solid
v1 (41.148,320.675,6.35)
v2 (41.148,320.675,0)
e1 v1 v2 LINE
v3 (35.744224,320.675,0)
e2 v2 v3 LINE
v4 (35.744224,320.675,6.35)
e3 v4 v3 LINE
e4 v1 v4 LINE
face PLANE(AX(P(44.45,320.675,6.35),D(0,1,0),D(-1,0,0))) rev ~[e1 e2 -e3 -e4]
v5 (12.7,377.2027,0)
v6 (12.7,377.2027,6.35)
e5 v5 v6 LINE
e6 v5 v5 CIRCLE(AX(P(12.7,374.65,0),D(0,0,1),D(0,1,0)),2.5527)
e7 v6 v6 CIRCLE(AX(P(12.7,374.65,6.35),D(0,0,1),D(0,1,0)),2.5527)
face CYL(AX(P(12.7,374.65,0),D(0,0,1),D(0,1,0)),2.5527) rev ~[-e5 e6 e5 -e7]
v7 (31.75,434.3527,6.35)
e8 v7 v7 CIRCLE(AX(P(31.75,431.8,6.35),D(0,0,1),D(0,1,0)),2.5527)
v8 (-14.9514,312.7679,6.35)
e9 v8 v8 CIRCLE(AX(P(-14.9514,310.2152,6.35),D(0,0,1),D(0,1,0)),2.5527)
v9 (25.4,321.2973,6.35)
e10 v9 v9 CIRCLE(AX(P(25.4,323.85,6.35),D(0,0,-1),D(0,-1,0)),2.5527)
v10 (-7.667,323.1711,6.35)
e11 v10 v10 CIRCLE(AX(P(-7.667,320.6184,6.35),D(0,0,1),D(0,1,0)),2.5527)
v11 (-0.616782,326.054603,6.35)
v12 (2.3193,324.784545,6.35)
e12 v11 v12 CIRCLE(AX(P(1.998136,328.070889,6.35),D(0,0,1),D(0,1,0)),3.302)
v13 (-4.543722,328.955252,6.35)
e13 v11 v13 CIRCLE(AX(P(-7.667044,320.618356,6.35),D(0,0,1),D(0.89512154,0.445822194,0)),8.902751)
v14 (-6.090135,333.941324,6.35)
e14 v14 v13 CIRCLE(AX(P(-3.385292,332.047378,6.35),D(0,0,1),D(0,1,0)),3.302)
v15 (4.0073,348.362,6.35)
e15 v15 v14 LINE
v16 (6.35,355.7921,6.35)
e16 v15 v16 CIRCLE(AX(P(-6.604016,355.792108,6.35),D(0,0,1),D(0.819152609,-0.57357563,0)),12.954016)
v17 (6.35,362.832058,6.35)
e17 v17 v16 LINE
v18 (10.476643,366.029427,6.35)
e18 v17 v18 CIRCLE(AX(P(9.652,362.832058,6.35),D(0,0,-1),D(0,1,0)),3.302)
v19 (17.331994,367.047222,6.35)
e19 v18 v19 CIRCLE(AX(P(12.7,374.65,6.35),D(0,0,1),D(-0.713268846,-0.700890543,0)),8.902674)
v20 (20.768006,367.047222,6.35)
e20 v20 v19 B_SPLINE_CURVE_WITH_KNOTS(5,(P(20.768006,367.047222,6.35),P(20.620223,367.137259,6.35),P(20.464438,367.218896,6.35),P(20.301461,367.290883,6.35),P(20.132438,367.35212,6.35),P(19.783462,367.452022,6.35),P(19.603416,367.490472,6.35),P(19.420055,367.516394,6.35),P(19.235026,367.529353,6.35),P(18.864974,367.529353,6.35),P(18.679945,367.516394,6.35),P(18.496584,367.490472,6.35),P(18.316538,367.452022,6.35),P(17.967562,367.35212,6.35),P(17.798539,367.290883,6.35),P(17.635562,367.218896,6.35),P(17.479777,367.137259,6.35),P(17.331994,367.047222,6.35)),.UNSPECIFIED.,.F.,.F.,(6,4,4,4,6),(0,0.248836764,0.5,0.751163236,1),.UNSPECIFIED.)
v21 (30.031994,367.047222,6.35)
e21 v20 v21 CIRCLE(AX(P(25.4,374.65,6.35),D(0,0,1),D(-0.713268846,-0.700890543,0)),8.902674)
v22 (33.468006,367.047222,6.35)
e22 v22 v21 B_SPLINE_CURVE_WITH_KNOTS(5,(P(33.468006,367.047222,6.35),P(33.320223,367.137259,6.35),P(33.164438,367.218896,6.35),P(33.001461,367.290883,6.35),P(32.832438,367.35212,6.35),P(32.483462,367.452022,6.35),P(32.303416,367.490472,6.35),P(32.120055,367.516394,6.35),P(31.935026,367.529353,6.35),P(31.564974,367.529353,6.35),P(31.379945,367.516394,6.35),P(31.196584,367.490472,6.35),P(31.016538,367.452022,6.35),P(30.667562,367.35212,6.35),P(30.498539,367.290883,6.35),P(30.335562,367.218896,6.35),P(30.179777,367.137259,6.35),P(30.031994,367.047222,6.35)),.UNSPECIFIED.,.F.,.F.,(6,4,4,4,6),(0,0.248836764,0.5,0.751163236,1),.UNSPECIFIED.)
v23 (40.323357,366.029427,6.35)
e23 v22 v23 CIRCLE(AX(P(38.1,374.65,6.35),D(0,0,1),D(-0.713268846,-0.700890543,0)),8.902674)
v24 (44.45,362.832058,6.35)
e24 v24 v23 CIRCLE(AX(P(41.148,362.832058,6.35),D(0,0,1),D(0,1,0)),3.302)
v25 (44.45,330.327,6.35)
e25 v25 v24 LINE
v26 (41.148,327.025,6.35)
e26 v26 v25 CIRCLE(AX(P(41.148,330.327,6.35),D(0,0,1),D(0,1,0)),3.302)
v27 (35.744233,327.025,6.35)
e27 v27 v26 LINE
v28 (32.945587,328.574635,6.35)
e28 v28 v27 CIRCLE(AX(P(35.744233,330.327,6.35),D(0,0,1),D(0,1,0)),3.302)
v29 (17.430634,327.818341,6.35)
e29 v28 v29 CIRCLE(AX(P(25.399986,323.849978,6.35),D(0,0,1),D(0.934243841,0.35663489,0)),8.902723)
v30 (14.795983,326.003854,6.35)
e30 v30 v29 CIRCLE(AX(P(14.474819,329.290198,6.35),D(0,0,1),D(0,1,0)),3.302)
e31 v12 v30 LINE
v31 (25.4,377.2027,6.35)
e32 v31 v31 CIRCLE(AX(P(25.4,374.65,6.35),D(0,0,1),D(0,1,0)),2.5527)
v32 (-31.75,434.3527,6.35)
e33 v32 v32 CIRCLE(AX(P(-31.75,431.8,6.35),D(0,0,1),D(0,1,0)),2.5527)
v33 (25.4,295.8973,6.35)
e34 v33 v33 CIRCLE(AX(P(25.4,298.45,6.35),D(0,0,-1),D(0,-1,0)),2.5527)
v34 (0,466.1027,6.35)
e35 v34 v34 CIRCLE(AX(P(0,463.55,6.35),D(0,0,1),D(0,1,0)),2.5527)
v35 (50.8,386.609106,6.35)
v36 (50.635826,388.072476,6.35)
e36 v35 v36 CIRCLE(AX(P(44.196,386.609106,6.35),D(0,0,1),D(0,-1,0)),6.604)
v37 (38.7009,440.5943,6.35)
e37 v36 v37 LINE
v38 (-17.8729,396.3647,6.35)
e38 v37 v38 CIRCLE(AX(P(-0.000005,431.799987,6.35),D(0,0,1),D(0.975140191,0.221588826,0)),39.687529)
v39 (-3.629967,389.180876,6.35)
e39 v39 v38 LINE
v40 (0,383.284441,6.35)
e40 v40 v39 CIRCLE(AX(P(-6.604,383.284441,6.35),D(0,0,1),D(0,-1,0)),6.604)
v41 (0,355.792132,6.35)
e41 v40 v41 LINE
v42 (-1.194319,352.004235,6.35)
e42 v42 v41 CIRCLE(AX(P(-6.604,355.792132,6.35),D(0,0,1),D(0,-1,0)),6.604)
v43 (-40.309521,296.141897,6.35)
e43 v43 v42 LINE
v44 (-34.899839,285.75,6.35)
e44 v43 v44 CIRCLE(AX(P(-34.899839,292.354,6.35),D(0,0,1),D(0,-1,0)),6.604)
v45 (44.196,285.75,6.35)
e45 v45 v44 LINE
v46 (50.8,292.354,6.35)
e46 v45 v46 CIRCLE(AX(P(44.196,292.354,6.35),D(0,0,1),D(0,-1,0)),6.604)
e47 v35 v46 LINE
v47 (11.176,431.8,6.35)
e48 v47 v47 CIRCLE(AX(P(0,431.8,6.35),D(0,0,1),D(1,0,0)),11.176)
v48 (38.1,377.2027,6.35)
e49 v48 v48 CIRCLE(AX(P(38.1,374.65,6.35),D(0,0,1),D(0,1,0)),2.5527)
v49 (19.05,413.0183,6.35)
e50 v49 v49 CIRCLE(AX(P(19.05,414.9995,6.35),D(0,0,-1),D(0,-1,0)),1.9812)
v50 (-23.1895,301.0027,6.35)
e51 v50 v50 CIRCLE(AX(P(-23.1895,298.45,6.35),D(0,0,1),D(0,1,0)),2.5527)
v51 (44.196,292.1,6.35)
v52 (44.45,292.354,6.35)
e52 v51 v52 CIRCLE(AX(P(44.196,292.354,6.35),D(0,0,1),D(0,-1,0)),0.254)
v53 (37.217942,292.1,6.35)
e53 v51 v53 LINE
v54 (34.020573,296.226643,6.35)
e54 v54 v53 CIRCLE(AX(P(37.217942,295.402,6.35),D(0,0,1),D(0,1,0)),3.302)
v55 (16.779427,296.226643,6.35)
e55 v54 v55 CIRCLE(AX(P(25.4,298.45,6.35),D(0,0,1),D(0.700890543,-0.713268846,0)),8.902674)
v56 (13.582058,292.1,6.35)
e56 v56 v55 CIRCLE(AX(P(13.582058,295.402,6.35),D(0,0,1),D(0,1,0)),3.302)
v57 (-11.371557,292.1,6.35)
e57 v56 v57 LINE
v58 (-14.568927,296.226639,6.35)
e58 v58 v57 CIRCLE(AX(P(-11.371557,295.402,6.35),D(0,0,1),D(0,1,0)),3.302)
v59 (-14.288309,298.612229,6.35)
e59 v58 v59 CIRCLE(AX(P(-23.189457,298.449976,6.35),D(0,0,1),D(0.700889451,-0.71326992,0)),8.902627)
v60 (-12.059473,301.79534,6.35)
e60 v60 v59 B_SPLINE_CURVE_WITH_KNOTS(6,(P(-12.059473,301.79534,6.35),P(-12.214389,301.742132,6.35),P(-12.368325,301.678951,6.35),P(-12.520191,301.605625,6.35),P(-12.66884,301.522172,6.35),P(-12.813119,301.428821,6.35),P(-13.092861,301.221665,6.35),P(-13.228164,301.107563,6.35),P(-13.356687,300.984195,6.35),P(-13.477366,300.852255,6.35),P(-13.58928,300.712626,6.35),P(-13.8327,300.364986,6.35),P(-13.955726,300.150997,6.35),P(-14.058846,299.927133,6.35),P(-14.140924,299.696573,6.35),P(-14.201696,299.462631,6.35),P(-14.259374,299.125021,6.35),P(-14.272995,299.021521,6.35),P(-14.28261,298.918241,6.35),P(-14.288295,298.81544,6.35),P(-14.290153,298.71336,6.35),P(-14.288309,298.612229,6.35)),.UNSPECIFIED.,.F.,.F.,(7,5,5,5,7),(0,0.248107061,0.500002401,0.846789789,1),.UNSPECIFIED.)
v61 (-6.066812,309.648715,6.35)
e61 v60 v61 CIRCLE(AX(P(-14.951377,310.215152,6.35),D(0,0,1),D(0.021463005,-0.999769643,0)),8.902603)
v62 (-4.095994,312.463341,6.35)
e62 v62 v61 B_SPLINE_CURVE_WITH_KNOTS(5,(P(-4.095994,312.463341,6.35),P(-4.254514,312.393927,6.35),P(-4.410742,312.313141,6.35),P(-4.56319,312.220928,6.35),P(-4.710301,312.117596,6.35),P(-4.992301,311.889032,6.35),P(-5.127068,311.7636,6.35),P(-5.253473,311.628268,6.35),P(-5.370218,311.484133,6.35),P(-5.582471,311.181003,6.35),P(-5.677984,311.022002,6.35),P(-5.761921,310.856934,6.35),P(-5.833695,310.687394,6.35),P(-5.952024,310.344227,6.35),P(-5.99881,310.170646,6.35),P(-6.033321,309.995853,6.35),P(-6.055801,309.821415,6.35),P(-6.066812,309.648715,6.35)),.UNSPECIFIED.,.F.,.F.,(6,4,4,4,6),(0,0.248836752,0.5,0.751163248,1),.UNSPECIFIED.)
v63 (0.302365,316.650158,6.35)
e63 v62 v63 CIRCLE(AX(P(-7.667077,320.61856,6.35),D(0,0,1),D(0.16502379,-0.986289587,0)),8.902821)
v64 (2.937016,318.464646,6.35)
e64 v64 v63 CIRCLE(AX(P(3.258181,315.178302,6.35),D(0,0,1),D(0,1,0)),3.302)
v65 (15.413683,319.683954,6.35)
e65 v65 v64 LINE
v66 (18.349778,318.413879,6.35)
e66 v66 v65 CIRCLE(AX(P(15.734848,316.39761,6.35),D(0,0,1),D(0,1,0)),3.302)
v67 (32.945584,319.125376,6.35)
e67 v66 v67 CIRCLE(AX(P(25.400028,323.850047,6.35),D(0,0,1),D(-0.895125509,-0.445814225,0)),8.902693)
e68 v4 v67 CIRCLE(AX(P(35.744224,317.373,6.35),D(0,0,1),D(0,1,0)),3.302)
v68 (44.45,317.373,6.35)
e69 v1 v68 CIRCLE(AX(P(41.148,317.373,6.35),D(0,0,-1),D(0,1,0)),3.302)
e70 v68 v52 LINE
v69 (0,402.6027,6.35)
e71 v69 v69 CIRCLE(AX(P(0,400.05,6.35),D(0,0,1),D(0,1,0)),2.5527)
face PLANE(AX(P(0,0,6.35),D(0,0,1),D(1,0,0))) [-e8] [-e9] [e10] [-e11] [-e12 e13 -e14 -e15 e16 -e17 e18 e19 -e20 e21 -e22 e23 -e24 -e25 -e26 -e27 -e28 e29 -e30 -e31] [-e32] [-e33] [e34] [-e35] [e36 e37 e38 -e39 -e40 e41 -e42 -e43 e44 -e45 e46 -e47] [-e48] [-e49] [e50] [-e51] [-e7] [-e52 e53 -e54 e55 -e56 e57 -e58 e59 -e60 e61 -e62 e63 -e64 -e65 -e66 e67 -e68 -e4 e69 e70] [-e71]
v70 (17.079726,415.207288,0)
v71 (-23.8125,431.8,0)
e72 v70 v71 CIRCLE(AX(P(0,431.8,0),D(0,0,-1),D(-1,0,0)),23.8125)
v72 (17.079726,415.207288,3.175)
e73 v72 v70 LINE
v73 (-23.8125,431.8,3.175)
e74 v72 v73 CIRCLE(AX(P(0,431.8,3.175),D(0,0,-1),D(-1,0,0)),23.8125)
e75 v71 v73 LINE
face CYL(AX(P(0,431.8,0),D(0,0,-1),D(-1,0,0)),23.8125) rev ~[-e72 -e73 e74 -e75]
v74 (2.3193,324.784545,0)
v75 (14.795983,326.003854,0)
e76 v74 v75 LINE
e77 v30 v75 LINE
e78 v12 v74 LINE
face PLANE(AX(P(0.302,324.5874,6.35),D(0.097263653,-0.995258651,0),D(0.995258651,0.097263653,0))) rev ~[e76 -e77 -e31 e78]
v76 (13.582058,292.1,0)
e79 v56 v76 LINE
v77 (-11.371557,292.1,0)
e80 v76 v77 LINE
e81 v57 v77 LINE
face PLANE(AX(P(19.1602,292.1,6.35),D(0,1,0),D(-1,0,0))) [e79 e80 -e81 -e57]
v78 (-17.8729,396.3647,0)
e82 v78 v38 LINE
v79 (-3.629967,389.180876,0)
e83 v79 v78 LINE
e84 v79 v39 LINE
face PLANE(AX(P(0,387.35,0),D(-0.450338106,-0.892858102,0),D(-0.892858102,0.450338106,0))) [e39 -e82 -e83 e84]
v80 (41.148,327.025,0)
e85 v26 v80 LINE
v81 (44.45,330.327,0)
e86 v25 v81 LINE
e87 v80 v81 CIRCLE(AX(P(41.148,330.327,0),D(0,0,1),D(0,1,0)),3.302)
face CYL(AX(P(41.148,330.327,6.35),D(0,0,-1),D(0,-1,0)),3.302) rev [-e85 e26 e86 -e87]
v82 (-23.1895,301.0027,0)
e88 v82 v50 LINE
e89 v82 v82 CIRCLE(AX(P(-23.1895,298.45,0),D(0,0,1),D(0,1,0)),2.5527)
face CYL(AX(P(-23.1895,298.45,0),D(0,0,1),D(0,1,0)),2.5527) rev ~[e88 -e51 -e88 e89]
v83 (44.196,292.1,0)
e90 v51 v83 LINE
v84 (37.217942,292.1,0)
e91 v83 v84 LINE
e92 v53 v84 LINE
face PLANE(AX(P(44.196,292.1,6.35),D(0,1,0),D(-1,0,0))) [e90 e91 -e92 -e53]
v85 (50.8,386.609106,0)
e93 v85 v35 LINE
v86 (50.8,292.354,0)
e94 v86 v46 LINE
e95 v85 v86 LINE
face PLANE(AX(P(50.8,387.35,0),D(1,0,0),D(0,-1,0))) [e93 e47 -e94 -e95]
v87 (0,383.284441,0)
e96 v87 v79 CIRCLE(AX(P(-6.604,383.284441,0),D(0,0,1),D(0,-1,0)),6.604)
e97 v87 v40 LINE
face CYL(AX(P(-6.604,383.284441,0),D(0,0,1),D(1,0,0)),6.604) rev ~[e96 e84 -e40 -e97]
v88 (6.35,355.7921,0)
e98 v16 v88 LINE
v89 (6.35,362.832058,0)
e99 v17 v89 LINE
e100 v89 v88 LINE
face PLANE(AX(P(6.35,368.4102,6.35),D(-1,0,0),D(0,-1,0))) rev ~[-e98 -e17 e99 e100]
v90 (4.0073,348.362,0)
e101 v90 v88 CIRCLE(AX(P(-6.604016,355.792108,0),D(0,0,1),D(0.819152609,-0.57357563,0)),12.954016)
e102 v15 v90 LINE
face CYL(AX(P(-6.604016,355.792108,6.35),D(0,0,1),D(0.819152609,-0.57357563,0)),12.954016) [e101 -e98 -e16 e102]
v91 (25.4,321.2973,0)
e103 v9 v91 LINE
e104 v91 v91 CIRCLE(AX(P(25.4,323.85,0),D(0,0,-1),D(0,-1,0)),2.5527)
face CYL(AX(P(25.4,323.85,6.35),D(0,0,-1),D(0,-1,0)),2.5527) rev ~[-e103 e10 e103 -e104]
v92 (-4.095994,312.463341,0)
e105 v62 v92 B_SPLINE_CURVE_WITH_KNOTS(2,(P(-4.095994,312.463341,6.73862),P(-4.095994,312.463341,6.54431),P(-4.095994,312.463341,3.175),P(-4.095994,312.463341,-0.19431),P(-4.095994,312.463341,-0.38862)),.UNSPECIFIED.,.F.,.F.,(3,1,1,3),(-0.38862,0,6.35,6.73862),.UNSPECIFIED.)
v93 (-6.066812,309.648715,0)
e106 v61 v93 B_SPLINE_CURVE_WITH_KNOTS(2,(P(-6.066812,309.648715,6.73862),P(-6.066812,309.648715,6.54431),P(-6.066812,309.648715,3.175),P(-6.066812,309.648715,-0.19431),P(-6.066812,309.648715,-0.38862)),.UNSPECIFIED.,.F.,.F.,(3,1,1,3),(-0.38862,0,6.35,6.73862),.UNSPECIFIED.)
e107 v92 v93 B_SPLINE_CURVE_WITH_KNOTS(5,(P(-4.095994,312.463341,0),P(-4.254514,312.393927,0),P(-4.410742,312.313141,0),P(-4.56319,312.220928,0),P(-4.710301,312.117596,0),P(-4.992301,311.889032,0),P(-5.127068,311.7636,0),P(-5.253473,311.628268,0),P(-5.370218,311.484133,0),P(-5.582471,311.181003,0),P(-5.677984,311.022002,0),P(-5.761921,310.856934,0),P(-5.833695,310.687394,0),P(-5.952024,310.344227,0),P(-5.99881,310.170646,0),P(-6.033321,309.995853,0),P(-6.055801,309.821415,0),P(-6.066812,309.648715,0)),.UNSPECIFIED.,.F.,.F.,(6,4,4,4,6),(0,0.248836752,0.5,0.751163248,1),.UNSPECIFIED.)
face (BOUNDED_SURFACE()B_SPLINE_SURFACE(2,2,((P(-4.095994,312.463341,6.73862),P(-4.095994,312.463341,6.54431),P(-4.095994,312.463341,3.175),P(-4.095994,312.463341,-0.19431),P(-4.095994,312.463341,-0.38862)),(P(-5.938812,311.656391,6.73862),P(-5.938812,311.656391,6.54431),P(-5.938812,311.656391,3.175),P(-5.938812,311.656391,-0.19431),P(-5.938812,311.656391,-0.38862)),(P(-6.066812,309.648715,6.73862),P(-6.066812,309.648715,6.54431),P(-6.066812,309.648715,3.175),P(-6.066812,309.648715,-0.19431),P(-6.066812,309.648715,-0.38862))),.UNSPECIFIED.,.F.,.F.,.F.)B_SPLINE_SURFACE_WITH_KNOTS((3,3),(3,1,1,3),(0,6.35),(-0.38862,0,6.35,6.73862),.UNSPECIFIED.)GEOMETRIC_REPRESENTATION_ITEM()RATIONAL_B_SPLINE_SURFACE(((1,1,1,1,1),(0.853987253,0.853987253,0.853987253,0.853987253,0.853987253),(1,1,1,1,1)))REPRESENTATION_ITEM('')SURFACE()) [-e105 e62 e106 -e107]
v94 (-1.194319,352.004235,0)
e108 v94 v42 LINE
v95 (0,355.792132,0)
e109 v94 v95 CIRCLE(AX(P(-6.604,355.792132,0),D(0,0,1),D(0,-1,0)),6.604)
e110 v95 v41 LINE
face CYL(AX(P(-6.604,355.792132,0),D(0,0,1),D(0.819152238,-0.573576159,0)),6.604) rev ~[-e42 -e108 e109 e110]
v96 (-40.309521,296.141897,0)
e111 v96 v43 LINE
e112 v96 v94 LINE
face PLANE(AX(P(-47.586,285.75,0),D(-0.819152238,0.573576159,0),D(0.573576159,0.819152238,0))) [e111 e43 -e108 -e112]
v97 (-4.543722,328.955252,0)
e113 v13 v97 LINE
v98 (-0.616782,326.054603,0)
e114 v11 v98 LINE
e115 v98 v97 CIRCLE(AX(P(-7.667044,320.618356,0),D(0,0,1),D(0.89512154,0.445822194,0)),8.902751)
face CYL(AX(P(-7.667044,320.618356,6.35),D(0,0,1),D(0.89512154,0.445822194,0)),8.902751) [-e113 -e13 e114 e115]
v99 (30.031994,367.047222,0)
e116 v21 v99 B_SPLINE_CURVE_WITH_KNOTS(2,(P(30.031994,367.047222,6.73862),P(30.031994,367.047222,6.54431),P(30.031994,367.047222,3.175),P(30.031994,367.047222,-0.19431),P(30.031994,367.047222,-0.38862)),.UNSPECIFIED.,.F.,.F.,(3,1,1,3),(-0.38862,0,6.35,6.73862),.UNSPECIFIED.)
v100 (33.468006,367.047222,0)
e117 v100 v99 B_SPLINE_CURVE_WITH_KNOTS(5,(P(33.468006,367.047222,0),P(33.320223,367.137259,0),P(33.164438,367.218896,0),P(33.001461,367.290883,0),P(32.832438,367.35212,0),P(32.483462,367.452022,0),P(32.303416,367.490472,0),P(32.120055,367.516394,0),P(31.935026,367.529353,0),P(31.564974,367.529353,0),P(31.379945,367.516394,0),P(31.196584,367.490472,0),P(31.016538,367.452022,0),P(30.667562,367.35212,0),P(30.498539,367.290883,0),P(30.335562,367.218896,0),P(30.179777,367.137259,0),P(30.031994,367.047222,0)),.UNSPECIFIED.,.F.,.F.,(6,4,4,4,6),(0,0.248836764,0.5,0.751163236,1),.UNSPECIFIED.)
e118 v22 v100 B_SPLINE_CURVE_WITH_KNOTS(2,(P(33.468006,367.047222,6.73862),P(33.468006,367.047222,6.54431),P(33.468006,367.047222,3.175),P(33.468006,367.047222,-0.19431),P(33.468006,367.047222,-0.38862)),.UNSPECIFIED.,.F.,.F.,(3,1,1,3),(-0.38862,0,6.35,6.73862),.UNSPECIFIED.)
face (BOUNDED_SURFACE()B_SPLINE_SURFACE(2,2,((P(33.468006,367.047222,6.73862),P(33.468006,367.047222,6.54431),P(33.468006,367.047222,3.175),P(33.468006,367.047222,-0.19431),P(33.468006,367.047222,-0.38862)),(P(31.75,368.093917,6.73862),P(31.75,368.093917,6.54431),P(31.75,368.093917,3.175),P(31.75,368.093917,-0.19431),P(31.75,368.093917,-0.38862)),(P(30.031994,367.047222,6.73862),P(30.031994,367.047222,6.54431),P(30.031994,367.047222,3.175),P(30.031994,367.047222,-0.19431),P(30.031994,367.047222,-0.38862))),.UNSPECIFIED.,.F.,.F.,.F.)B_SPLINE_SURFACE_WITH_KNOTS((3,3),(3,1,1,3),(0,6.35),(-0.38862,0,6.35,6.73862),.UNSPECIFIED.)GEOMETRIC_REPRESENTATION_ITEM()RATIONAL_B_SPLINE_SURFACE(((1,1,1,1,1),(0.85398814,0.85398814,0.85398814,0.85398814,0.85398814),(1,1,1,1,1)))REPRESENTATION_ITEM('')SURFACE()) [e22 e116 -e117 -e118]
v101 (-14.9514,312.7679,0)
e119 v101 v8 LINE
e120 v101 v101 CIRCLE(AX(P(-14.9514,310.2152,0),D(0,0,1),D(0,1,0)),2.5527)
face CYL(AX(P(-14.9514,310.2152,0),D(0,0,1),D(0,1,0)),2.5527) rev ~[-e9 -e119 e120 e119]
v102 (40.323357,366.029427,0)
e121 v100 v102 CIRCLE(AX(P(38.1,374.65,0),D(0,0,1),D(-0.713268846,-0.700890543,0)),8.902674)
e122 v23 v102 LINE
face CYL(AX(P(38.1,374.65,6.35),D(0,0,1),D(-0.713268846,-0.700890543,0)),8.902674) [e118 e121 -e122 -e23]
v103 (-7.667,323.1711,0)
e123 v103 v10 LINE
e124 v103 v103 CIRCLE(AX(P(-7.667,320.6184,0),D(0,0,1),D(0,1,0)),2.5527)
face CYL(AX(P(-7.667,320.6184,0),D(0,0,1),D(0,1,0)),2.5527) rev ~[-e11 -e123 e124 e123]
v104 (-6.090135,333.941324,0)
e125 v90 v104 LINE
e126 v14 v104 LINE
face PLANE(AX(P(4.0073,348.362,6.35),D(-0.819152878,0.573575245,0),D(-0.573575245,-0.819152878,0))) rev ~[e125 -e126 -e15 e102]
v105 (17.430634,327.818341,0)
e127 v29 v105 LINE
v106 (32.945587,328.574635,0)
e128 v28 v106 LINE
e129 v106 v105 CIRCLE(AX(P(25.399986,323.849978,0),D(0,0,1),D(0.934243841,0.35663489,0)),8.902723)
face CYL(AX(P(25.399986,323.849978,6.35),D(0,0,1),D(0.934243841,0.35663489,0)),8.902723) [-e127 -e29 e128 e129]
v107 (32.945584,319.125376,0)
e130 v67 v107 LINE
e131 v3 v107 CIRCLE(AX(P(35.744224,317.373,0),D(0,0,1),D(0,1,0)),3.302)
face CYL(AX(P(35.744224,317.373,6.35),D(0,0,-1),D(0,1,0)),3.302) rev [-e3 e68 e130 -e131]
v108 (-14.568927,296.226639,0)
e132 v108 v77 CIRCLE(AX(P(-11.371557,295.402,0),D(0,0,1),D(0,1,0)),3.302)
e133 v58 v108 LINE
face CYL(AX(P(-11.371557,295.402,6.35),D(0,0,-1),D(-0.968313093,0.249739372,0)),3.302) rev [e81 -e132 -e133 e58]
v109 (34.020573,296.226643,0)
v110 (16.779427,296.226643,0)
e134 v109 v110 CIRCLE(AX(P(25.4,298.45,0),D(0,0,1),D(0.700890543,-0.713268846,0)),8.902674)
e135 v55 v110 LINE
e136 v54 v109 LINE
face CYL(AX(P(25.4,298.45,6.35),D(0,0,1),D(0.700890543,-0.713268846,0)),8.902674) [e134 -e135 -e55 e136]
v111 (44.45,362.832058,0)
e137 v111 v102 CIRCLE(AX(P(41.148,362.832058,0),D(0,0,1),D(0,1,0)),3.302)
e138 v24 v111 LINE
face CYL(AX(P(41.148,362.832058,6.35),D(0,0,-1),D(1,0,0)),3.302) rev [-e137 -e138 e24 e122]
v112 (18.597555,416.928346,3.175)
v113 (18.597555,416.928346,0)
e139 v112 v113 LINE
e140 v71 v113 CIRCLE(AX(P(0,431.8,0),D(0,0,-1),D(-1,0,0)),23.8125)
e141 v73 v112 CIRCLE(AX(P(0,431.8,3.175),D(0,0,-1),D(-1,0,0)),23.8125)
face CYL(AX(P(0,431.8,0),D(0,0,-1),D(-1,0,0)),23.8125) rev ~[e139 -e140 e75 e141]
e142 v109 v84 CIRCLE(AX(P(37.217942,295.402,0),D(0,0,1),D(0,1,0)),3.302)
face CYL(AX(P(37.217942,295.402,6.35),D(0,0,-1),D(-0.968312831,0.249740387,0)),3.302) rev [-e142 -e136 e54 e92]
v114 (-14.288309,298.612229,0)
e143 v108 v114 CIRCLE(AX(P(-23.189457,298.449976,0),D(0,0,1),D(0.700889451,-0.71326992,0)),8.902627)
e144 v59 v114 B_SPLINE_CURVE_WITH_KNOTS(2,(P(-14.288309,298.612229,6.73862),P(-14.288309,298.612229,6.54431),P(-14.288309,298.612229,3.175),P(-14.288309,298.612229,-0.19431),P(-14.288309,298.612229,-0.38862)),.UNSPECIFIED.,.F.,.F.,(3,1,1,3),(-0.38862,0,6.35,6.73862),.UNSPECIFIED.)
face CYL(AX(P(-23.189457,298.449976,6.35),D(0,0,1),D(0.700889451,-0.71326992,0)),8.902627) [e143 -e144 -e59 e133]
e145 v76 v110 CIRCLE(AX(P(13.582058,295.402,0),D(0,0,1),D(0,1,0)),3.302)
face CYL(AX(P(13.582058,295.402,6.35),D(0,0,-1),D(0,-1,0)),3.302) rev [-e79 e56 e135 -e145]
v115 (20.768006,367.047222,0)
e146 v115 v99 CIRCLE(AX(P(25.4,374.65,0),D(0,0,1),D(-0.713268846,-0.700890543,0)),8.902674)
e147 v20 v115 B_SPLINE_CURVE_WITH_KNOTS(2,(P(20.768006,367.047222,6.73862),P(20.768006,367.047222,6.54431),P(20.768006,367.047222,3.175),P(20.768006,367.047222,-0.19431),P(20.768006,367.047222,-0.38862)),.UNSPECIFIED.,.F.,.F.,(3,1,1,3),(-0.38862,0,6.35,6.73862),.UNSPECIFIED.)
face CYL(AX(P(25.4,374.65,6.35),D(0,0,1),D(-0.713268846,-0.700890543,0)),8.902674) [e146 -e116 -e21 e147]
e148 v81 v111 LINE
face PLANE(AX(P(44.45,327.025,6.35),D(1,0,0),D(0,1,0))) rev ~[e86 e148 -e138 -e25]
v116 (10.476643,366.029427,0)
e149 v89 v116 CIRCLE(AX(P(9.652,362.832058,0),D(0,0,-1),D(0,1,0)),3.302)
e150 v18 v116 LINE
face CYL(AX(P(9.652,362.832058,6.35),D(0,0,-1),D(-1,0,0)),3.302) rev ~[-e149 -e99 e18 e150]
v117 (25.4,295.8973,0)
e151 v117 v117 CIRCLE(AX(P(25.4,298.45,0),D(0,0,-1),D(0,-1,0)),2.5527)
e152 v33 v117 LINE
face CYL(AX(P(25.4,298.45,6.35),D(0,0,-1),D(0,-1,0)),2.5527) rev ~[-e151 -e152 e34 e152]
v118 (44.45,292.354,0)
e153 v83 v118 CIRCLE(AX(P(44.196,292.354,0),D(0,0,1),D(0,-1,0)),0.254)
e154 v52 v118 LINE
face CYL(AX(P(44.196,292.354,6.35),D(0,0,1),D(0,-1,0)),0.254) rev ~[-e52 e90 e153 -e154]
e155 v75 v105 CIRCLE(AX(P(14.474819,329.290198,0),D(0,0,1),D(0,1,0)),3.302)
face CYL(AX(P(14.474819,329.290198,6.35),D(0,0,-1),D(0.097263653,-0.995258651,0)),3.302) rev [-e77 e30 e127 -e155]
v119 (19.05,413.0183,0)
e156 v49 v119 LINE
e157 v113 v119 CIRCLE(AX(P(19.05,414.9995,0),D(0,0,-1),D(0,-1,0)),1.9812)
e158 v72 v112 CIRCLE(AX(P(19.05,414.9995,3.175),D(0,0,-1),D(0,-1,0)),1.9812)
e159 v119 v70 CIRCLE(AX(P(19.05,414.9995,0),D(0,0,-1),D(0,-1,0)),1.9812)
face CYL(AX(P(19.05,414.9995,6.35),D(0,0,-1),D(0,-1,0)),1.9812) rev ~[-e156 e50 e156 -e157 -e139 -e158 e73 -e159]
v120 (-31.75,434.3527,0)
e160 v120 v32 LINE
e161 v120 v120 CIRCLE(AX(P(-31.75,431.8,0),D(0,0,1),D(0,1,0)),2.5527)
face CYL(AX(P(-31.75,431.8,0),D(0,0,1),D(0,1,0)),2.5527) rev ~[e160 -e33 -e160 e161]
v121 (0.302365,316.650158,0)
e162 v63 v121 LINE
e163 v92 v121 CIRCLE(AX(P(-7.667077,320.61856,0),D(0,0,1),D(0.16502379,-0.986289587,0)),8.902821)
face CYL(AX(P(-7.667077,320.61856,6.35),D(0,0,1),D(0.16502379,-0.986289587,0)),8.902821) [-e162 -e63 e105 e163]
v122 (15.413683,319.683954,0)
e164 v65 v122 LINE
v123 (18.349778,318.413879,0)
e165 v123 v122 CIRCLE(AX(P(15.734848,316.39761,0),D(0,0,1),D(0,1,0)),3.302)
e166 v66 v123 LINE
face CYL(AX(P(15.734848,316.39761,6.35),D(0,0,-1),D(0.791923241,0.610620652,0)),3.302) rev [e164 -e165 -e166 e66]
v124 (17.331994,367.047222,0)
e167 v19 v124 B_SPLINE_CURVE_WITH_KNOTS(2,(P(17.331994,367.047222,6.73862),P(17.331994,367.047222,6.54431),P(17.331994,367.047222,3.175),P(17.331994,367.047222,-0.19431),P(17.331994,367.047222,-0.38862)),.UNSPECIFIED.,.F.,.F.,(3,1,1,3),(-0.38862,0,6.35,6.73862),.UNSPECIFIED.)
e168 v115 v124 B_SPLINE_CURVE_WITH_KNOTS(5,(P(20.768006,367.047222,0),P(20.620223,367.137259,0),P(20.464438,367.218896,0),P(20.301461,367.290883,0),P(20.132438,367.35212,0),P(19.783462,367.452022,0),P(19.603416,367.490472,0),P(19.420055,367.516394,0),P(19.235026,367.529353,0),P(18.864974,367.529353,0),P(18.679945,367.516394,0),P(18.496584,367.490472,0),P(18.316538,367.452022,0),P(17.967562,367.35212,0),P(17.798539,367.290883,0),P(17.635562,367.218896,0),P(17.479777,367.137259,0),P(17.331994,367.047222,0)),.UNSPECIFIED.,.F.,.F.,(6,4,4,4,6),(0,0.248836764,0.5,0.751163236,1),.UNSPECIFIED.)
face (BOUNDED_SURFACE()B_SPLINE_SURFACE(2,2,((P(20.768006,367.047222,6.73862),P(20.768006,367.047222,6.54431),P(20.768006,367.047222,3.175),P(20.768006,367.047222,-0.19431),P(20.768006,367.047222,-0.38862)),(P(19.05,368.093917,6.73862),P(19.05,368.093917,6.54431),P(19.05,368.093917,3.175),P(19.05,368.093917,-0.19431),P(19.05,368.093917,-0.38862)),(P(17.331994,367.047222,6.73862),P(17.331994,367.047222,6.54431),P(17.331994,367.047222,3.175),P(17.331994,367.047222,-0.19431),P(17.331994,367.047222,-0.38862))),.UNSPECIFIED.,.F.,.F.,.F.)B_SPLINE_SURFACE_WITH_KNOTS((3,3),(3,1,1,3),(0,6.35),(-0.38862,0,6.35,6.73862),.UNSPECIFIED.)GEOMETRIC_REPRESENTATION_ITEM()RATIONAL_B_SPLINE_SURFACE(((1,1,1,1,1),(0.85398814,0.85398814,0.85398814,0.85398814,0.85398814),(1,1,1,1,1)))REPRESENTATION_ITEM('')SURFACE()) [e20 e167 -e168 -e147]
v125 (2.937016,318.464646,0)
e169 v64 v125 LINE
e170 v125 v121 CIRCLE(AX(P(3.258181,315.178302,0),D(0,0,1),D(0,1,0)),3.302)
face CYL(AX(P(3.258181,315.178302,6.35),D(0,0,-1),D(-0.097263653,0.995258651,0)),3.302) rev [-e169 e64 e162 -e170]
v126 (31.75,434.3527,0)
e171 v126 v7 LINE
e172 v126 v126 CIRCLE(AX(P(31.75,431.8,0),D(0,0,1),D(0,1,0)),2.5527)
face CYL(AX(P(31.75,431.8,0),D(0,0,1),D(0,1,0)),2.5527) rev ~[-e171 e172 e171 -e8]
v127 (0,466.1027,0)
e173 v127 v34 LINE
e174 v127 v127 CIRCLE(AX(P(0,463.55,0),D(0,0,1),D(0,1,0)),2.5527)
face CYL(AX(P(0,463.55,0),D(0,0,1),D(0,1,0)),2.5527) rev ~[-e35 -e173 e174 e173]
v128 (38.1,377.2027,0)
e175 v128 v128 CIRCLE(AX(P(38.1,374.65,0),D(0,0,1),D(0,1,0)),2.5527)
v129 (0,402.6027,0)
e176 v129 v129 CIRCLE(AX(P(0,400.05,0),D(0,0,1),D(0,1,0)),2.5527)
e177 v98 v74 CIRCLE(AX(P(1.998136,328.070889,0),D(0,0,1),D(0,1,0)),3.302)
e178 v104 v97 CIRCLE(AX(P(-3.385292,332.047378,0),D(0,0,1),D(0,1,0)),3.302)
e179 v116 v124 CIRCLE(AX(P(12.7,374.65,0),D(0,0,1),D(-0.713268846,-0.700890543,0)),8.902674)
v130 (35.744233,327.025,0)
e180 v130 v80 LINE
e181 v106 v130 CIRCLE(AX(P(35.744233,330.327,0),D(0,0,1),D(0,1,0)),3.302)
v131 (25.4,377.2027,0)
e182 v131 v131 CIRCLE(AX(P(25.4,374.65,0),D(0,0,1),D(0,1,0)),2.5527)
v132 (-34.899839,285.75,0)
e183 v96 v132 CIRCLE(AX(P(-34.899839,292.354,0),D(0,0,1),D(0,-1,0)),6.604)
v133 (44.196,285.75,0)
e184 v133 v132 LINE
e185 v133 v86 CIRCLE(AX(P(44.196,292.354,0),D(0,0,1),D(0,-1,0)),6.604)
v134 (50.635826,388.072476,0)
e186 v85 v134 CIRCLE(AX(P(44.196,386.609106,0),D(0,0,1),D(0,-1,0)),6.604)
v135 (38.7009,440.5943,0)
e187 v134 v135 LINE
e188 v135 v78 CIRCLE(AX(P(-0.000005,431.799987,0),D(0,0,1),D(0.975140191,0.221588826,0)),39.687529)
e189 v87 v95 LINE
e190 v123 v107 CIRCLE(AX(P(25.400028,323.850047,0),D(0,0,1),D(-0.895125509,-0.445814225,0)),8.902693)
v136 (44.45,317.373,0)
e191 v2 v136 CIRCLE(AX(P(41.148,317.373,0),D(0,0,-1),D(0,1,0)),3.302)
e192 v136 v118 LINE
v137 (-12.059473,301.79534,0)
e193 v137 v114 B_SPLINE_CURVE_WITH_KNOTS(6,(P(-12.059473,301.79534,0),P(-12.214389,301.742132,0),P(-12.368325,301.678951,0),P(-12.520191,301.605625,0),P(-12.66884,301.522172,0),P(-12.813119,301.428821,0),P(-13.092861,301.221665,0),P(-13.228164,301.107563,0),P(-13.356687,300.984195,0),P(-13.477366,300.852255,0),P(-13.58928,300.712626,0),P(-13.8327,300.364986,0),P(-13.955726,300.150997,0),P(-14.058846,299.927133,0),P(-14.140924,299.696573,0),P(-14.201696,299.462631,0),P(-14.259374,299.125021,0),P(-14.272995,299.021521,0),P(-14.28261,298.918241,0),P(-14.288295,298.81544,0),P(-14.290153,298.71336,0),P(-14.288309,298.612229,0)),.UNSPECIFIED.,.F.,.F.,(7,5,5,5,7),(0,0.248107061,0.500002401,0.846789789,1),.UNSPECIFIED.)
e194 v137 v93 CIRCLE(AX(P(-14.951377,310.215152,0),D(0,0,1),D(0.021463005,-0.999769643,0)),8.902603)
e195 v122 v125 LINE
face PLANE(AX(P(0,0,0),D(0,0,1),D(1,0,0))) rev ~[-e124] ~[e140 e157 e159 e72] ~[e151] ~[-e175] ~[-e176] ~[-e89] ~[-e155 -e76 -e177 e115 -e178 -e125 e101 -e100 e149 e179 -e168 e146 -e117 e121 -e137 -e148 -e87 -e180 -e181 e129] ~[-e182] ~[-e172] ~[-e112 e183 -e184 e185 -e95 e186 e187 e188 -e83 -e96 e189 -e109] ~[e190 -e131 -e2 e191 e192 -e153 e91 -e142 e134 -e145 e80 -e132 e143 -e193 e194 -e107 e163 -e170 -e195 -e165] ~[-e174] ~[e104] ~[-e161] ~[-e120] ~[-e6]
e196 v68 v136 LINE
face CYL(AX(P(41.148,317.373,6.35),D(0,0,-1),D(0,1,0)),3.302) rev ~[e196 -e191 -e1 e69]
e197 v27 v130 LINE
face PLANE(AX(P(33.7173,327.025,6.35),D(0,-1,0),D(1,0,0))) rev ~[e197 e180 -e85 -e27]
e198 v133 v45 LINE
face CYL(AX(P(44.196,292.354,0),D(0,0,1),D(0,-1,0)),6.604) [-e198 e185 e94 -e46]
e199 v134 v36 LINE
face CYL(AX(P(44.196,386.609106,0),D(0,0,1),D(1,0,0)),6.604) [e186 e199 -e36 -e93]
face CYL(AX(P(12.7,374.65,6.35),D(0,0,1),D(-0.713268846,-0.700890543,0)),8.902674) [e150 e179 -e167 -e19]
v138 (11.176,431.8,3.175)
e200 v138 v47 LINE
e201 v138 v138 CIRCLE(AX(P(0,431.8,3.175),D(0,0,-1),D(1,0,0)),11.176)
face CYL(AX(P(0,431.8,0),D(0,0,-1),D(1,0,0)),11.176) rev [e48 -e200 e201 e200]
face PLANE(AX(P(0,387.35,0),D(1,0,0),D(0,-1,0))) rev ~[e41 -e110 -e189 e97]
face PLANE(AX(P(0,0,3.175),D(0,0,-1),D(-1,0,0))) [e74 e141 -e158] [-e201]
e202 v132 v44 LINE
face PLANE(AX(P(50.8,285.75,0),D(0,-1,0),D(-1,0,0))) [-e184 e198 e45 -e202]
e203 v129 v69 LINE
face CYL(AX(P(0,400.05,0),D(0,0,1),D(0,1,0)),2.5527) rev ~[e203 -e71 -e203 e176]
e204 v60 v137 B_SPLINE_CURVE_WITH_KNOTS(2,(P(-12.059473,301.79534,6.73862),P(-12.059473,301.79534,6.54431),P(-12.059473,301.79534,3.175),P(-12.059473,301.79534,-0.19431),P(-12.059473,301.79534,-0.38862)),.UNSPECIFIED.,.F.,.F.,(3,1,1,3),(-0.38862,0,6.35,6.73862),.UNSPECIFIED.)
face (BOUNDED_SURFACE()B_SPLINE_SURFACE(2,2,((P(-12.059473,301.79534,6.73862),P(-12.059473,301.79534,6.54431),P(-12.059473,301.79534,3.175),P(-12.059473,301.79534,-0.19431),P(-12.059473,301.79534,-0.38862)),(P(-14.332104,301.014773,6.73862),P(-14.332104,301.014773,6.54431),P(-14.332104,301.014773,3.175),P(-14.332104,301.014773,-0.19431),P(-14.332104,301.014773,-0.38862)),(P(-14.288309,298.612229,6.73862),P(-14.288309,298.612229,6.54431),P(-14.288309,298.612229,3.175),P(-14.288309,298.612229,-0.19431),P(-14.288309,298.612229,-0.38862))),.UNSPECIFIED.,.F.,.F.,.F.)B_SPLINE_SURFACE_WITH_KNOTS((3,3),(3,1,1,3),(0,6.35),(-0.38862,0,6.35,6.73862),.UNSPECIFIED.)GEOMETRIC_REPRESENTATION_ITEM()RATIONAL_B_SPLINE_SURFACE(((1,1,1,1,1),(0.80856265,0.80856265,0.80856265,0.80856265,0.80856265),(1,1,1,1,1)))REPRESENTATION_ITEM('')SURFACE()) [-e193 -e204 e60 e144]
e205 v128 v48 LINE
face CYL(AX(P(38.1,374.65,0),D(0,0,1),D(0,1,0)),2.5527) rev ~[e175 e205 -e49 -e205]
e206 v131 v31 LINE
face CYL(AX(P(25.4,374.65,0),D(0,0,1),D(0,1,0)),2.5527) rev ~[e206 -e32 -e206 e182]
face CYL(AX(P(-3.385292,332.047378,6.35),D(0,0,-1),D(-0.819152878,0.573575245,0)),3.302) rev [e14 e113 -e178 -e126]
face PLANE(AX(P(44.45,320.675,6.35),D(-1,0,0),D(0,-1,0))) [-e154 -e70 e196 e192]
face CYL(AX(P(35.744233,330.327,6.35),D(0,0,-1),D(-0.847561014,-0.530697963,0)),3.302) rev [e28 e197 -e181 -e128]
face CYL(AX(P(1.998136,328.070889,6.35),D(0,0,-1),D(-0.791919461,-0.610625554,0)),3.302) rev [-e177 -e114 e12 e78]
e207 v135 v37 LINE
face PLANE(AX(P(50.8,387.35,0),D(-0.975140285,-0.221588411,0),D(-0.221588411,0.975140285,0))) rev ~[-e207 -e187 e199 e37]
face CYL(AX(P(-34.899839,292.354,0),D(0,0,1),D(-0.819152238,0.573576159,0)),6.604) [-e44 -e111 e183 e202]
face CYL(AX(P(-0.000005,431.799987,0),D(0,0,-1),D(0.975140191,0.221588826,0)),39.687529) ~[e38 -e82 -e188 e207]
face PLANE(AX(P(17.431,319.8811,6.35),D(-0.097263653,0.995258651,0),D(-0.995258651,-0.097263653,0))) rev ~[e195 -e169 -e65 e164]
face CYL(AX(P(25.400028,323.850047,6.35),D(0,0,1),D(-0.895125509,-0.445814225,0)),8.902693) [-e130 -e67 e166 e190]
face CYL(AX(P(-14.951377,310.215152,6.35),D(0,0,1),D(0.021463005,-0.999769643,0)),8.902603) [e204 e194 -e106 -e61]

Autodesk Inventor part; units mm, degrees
ref_plane "YZ Plane" through (0, 0, 0) normal (1, 0, 0) x (0, 1, 0)
ref_plane "XZ Plane" through (0, 0, 0) normal (0, 1, 0) x (-1, 0, 0)
ref_plane "XY Plane" through (0, 0, 0) normal (0, 0, 1) x (1, 0, 0)
sketch "Sketch1" plane through (0, 0, 0) normal (0, 0, 1) x (1, 0, 0)
  line L0 (0, 0) -> (50.8, 0) construction
  line L1 (50.8, 0) -> (50.8, 387.35) construction
  line L2 (50.8, 387.35) -> (0, 387.35) construction
  line L3 (0, 387.35) -> (0, 0) construction
  line L4 (20.8065, 339.141) -> (-226.8638, -14.5688) construction
  line L5 (-226.8638, -14.5688) -> (-247.6703, 0) construction
  line L6 (-247.6703, 0) -> (0, 353.7099) construction
  line L7 (0, 353.7099) -> (20.8065, 339.141) construction
  line L8 (-247.6703, 0) -> (-216.6626, 0) construction
  line L9 (0, 353.7099) -> (0, 309.4263) construction
  dimension "d0" = 50.8
  dimension "d1" = 387.35
  dimension "d2" = 25.4
  dimension "d3" = 431.8
  dimension "d5" = 55
sketch "Sketch2" plane through (0, 0, 0) normal (0, 0, 1) x (1, 0, 0)
  line L0 (0, 0) -> (50.8, 0) construction
  line L1 (50.8, 0) -> (50.8, 387.35) construction
  line L2 (50.8, 387.35) -> (0, 387.35) construction
  line L3 (0, 387.35) -> (0, 0) construction
  line L4 (20.8065, 339.141) -> (-226.8638, -14.5688) construction
  line L5 (-226.8638, -14.5688) -> (-247.6703, 0) construction
  line L6 (-247.6703, 0) -> (0, 353.7099) construction
  line L7 (0, 353.7099) -> (20.8065, 339.141) construction
  line L8 (-247.6703, 0) -> (-216.6626, 0) construction
  line L9 (0, 353.7099) -> (0, 309.4263) construction
  circle A0 centre (0, 431.8) radius 11.176
  circle A1 centre (0, 431.8) radius 23.8125 construction
  circle A2 centre (0, 431.8) radius 39.6875 construction
  line L10 (-47.586, 285.75) -> (0, 353.7099)
  line L11 (0, 387.35) -> (0, 353.7099)
  line L12 (0, 387.35) -> (-17.8729, 396.3647)
  line L13 (50.8, 387.35) -> (50.8, 285.75)
  line L14 (50.8, 285.75) -> (-47.586, 285.75)
  arc A3 (38.7009, 440.5943) -> (-17.8729, 396.3647) centre (0, 431.8) ccw
  line L15 (12.7, 374.65) -> (38.1, 374.65) construction
  line L16 (10.4032, 346.4254) -> (-237.2671, -7.2844) construction
  line L17 (50.8, 387.35) -> (38.7009, 440.5943)
  point P0 (25.4, 0)
  point P1 (-7.667, 320.6184)
  point P2 (-14.9514, 310.2152)
  point P3 (-23.1895, 298.45)
  point P4 (25.4, 374.65)
  point P5 (25.4, 374.65)
  point P6 (25.4, 387.35)
  dimension "d6" = 22.352
  dimension "d7" = 47.625
  dimension "d8" = 15.875
  dimension "d11" = 431.8
  dimension "d12" = 101.6
  dimension "d13" = 25.4
  dimension "d14" = 12.7
  dimension "d15" = 12.7
  dimension "d16" = 14.3627
  dimension "d17" = 12.7
  dimension "d52" = 50.8
extrude "Extrusion1" add sketch "Sketch2" along normal blind 6.35
hole "Hole1" at (0, 0, 0) at (50.8, 0, 0) at (-226.8638, -14.5688, 0) at (-247.6703, 0, 0) at (-216.6626, 0, 0) at (-7.667, 320.6184, 0) at (-14.9514, 310.2152, 0) at (-23.1895, 298.45, 0) at (12.7, 374.65, 0) at (25.4, 374.65, 0) at (38.1, 374.65, 0) direction (0, 0, 1) diameter 5.1054 end through all clearance for "Flat Head Machine Screw (82)" size "#10" standard "Ansi Unified Screw Threads"
fillet "Fillet1" radius 6.604 5 edges at (0, 353.7099, 3.175) (-47.586, 285.75, 3.175) (50.8, 285.75, 3.175) (0, 387.35, 3.175) (50.8, 387.35, 3.175)
sketch "Sketch3" plane through (0, 0, 0) normal (0, 0, -1) x (-1, 0, 0)
  arc A0 (-50.8, 292.354) -> (-44.196, 285.75) centre (-44.196, 292.354) ccw construction
  line L0 (34.8998, 285.75) -> (-44.196, 285.75) construction
  arc A1 (34.8998, 285.75) -> (40.3095, 296.1419) centre (34.8998, 292.354) ccw construction
  line L1 (1.1943, 352.0042) -> (40.3095, 296.1419) construction
  arc A2 (0, 355.7921) -> (1.1943, 352.0042) centre (6.604, 355.7921) ccw construction
  line L2 (0, 383.2845) -> (0, 355.7921) construction
  line L3 (17.8729, 396.3647) -> (3.63, 389.1809) construction
  arc A3 (17.8729, 396.3647) -> (-38.7009, 440.5943) centre (0, 431.8) ccw construction
  line L4 (-50.8, 292.354) -> (-50.8, 386.6091) construction
  circle A4 centre (-25.4, 374.65) radius 2.5527 construction
  circle A5 centre (23.1895, 298.45) radius 2.5527 construction
  circle A6 centre (7.667, 320.6184) radius 2.5527 construction
  circle A7 centre (14.9514, 310.2152) radius 2.5527 construction
  circle A8 centre (-12.7, 374.65) radius 2.5527 construction
  circle A9 centre (-38.1, 374.65) radius 2.5527 construction
  circle A10 centre (0, 431.8) radius 11.176 construction
  circle A11 centre (0, 431.8) radius 23.8125
  circle A12 centre (0, 431.8) radius 11.176 construction
  circle A13 centre (0, 431.8) radius 31.75 construction
  line L5 (-50.6358, 388.0725) -> (-38.7009, 440.5943) projected
  arc A14 (-50.6358, 388.0725) -> (-50.8, 386.6091) centre (-44.196, 386.6091) ccw projected
  arc A15 (3.63, 389.1809) -> (0, 383.2845) centre (6.604, 383.2845) ccw projected
  point P0 (0, 0)
  point P1 (0, 463.55)
  point P2 (-31.75, 431.8)
  point P3 (0, 400.05)
  point P4 (31.75, 431.8)
  dimension "d29" = 63.5
  dimension "d28" = 47.625
  dimension "d32" = 360
extrude "Extrusion2" cut sketch "Sketch3" against normal blind 3.175
hole "Hole2" at (0, 463.55, 0) at (31.75, 431.8, 0) at (0, 400.05, 0) at (-31.75, 431.8, 0) direction (0, 0, 1) diameter 5.1054 end through all clearance for "Flat Head Machine Screw (82)" size "#10" standard "Ansi Unified Screw Threads"
sketch "Sketch4" plane through (0, 0, 6.35) normal (0, 0, 1) x (1, 0, 0)
  line L0 (0, 0) -> (50.8, 0) construction
  line L1 (-34.8998, 285.75) -> (44.196, 285.75) construction
  point P0 (25.4, 323.85)
  point P1 (25.4, 298.45)
  point P2 (25.4, 0)
  dimension "d43" = 25.4
  dimension "d44" = 12.7
hole "Hole3" at (25.4, 323.85, 6.35) at (25.4, 298.45, 6.35) direction (0, 0, -1) diameter 5.1054 end through all clearance for "Flat Head Machine Screw (82)" size "#10" standard "Ansi Unified Screw Threads"
sketch "Sketch5" plane through (0, 0, 6.35) normal (0, 0, 1) x (1, 0, 0)
  circle A0 centre (25.4, 323.85) radius 2.5527 construction
  circle A1 centre (25.4, 298.45) radius 2.5527 construction
  circle A2 centre (0, 400.05) radius 2.5527 construction
  circle A3 centre (0, 463.55) radius 2.5527 construction
  circle A4 centre (31.75, 431.8) radius 2.5527 construction
  circle A5 centre (-31.75, 431.8) radius 2.5527 construction
  circle A6 centre (0, 431.8) radius 11.176 construction
  arc A7 (50.8, 386.6091) -> (50.6358, 388.0725) centre (44.196, 386.6091) ccw construction
  line L0 (50.6358, 388.0725) -> (38.7009, 440.5943) construction
  arc A8 (38.7009, 440.5943) -> (-17.8729, 396.3647) centre (0, 431.8) ccw construction
  line L1 (-17.8729, 396.3647) -> (-3.63, 389.1809) construction
  arc A9 (0, 383.2845) -> (-3.63, 389.1809) centre (-6.604, 383.2845) ccw construction
  line L2 (0, 383.2845) -> (0, 355.7921) construction
  arc A10 (-1.1943, 352.0042) -> (0, 355.7921) centre (-6.604, 355.7921) ccw construction
  line L3 (-1.1943, 352.0042) -> (-40.3095, 296.1419) construction
  arc A11 (-40.3095, 296.1419) -> (-34.8998, 285.75) centre (-34.8998, 292.354) ccw construction
  line L4 (-34.8998, 285.75) -> (44.196, 285.75) construction
  arc A12 (44.196, 285.75) -> (50.8, 292.354) centre (44.196, 292.354) ccw construction
  line L5 (50.8, 292.354) -> (50.8, 386.6091) construction
  circle A13 centre (38.1, 374.65) radius 2.5527 construction
  circle A14 centre (12.7, 374.65) radius 2.5527 construction
  circle A15 centre (-14.9514, 310.2152) radius 2.5527 construction
  circle A16 centre (-7.667, 320.6184) radius 2.5527 construction
  circle A17 centre (-23.1895, 298.45) radius 2.5527 construction
  circle A18 centre (25.4, 374.65) radius 2.5527 construction
  line L6 (6.35, 355.7921) -> (6.35, 383.2845) construction
  arc A19 (6.35, 383.2845) -> (-0.7703, 394.8505) centre (-6.604, 383.2845) ccw construction
  line L7 (-0.7703, 394.8505) -> (-15.0132, 402.0344) construction
  arc A20 (32.5087, 439.1872) -> (-15.0132, 402.0344) centre (0, 431.8) ccw construction
  line L8 (32.5087, 439.1872) -> (44.4437, 386.6654) construction
  arc A21 (44.45, 386.6091) -> (44.4437, 386.6654) centre (44.196, 386.6091) ccw construction
  line L9 (44.45, 386.6091) -> (44.45, 292.354) construction
  arc A22 (44.196, 292.1) -> (44.45, 292.354) centre (44.196, 292.354) ccw construction
  line L10 (44.196, 292.1) -> (-34.8998, 292.1) construction
  arc A23 (-35.1079, 292.4997) -> (-34.8998, 292.1) centre (-34.8998, 292.354) ccw construction
  line L11 (-35.1079, 292.4997) -> (4.0073, 348.362) construction
  arc A24 (4.0073, 348.362) -> (6.35, 355.7921) centre (-6.604, 355.7921) ccw construction
  circle A25 centre (25.4, 323.85) radius 8.9027 construction
  circle A26 centre (12.7, 374.65) radius 8.9027 construction
  circle A27 centre (25.4, 374.65) radius 8.9027 construction
  circle A28 centre (38.1, 374.65) radius 8.9027 construction
  circle A29 centre (-7.667, 320.6184) radius 2.5527 construction
  circle A30 centre (-7.667, 320.6184) radius 8.9027 construction
  line L12 (-7.667, 320.6184) -> (25.4, 323.85) construction
  line L13 (25.4, 323.85) -> (44.45, 323.85) construction
  arc A31 (6.35, 368.4102) -> (19.05, 368.4102) centre (12.7, 374.65) ccw
  arc A32 (19.05, 368.4102) -> (31.75, 368.4102) centre (25.4, 374.65) ccw
  arc A33 (31.75, 368.4102) -> (44.45, 368.4102) centre (38.1, 374.65) ccw
  arc A34 (-1.1943, 352.0042) -> (0, 355.7921) centre (-6.604, 355.7921) ccw construction
  arc A35 (4.0073, 348.362) -> (6.35, 355.7921) centre (-6.604, 355.7921) ccw
  line L14 (6.35, 368.4102) -> (6.35, 355.7921)
  line L15 (44.45, 323.85) -> (44.45, 368.4102)
  line L16 (4.0073, 348.362) -> (-9.2896, 329.372)
  circle A36 centre (0, 431.8) radius 33.3375 construction
  circle A37 centre (0, 400.05) radius 8.9027 construction
  circle A38 centre (31.75, 431.8) radius 2.5527 construction
  circle A39 centre (31.75, 431.8) radius 8.9027 construction
  circle A40 centre (0, 431.8) radius 36.5125 construction
  arc A41 (8.0168, 396.1785) -> (35.6215, 423.7832) centre (0, 431.8) ccw
  arc A42 (3.2058, 391.7445) -> (8.0168, 396.1785) centre (0, 400.05) ccw
  arc A43 (35.6215, 423.7832) -> (35.9688, 423.9604) centre (31.75, 431.8) ccw
  arc A44 (44.45, 386.6091) -> (44.4437, 386.6654) centre (44.196, 386.6091) ccw
  arc A45 (6.35, 383.2845) -> (3.2058, 391.7445) centre (-6.604, 383.2845) ccw
  arc A46 (19.05, 380.8898) -> (6.35, 380.8898) centre (12.7, 374.65) ccw
  arc A47 (31.75, 380.8898) -> (19.05, 380.8898) centre (25.4, 374.65) ccw
  arc A48 (44.45, 380.8898) -> (31.75, 380.8898) centre (38.1, 374.65) ccw
  line L17 (6.35, 383.2845) -> (6.35, 380.8898)
  line L18 (44.45, 380.8898) -> (44.45, 386.6091)
  line L19 (44.4437, 386.6654) -> (35.9688, 423.9604)
  circle A49 centre (-23.1895, 298.45) radius 8.9027 construction
  circle A50 centre (25.4, 298.45) radius 8.9027 construction
  circle A51 centre (-14.9514, 310.2152) radius 8.9027 construction
  line L20 (-7.9758, 323.7784) -> (25.2452, 327.025) construction
  line L21 (25.2452, 327.025) -> (44.45, 327.025) construction
  line L22 (-7.3582, 317.4585) -> (25.5548, 320.675) construction
  line L23 (25.5548, 320.675) -> (44.45, 320.675) construction
  line L24 (0.302, 324.5874) -> (16.8133, 326.201)
  line L25 (33.7173, 327.025) -> (44.45, 327.025)
  line L26 (44.45, 320.675) -> (33.7173, 320.675)
  line L27 (17.431, 319.8811) -> (0.9197, 318.2675)
  line L28 (44.45, 320.675) -> (44.45, 292.354)
  line L29 (44.196, 292.1) -> (31.6398, 292.1)
  line L30 (19.1602, 292.1) -> (-16.9497, 292.1)
  arc A52 (-16.9497, 292.1) -> (-14.7603, 301.3146) centre (-23.1895, 298.45) ccw
  arc A53 (-14.7603, 301.3146) -> (-6.1979, 311.8378) centre (-14.9514, 310.2152) ccw
  arc A54 (-6.1979, 311.8378) -> (0.9197, 318.2675) centre (-7.667, 320.6184) ccw
  arc A55 (17.431, 319.8811) -> (33.7173, 320.675) centre (25.4, 323.85) ccw
  arc A56 (33.7173, 327.025) -> (16.8133, 326.201) centre (25.4, 323.85) ccw
  arc A57 (31.6398, 292.1) -> (19.1602, 292.1) centre (25.4, 298.45) ccw
  arc A58 (44.196, 292.1) -> (44.45, 292.354) centre (44.196, 292.354) ccw
  arc A59 (0.302, 324.5874) -> (-9.2896, 329.372) centre (-7.667, 320.6184) ccw
  point P0 (0, 0)
  point P1 (1.1935, 321.4844)
  point P2 (34.3027, 323.85)
  point P3 (16.5395, 322.9841)
  point P4 (44.45, 386.6091)
  dimension "d53" = 6.35
  dimension "d54" = 6.35
  dimension "d55" = 3.175
  dimension "d60" = 3.175
  dimension "d61" = 3.175
extrude "Extrusion3" cut sketch "Sketch5" against normal through all contours A31 A32 A33 L15 L25 A56 L24 A59 L16 A35 L14 | L28 A58 L29 A57 L30 A52 A53 A54 L27 A55 L26
fillet "Fillet2" radius 3.302 18 edges at (-16.9497, 292.1, 3.175) (19.1602, 292.1, 3.175) (31.6398, 292.1, 3.175) (44.45, 320.675, 3.175) (33.7173, 320.675, 3.175) (17.431, 319.8811, 3.175) (0.9197, 318.2675, 3.175) (-6.1979, 311.8378, 3.175) (-14.7603, 301.3146, 3.175) (16.8133, 326.201, 3.175) (33.7173, 327.025, 3.175) (44.45, 327.025, 3.175) (44.45, 368.4102, 3.175) (31.75, 368.4102, 3.175) (19.05, 368.4102, 3.175) (6.35, 368.4102, 3.175) (-9.2896, 329.372, 3.175) (0.302, 324.5874, 3.175)
sketch "Sketch6" plane through (0, 0, 6.35) normal (0, 0, 1) x (1, 0, 0)
  line L0 (35.7442, 320.675) -> (41.148, 320.675) construction
  arc A0 (44.45, 317.373) -> (41.148, 320.675) centre (41.148, 317.373) ccw construction
  line L1 (44.45, 317.373) -> (44.45, 292.354) construction
  arc A1 (44.196, 292.1) -> (44.45, 292.354) centre (44.196, 292.354) ccw construction
  line L2 (44.196, 292.1) -> (37.218, 292.1) construction
  arc A2 (34.0206, 296.2266) -> (37.218, 292.1) centre (37.218, 295.402) ccw construction
  arc A3 (34.0206, 296.2266) -> (16.7794, 296.2266) centre (25.4, 298.45) ccw construction
  arc A4 (13.582, 292.1) -> (16.7794, 296.2266) centre (13.582, 295.402) ccw construction
  line L3 (13.582, 292.1) -> (-11.3716, 292.1) construction
  arc A5 (-14.5689, 296.2266) -> (-11.3716, 292.1) centre (-11.3716, 295.402) ccw construction
  arc A6 (-14.5689, 296.2266) -> (-14.2883, 298.6122) centre (-23.1895, 298.45) ccw construction
  arc A7 (-12.0595, 301.7953) -> (-14.2883, 298.6122) centre (-10.9869, 298.6724) ccw construction
  arc A8 (-12.0595, 301.7953) -> (-6.0668, 309.6487) centre (-14.9514, 310.2152) ccw construction
  arc A9 (-4.096, 312.4633) -> (-6.0668, 309.6487) centre (-2.7715, 309.4386) ccw construction
  arc A10 (-4.096, 312.4633) -> (0.3023, 316.6501) centre (-7.667, 320.6184) ccw construction
  arc A11 (2.937, 318.4646) -> (0.3023, 316.6501) centre (3.2581, 315.1783) ccw construction
  line L4 (2.937, 318.4646) -> (15.4136, 319.6839) construction
  arc A12 (18.3497, 318.4138) -> (15.4136, 319.6839) centre (15.7348, 316.3976) ccw construction
  arc A13 (18.3497, 318.4138) -> (32.9456, 319.1254) centre (25.4, 323.85) ccw construction
  arc A14 (35.7442, 320.675) -> (32.9456, 319.1254) centre (35.7442, 317.373) ccw construction
  arc A15 (10.4766, 366.0294) -> (17.332, 367.0472) centre (12.7, 374.65) ccw construction
  arc A16 (20.768, 367.0472) -> (17.332, 367.0472) centre (19.05, 364.2273) ccw construction
  arc A17 (20.768, 367.0472) -> (30.032, 367.0472) centre (25.4, 374.65) ccw construction
  arc A18 (33.468, 367.0472) -> (30.032, 367.0472) centre (31.75, 364.2273) ccw construction
  arc A19 (33.468, 367.0472) -> (40.3234, 366.0294) centre (38.1, 374.65) ccw construction
  arc A20 (44.45, 362.832) -> (40.3234, 366.0294) centre (41.148, 362.832) ccw construction
  line L5 (44.45, 362.832) -> (44.45, 330.327) construction
  arc A21 (41.148, 327.025) -> (44.45, 330.327) centre (41.148, 330.327) ccw construction
  line L6 (41.148, 327.025) -> (35.7442, 327.025) construction
  arc A22 (32.9456, 328.5746) -> (35.7442, 327.025) centre (35.7442, 330.327) ccw construction
  arc A23 (32.9456, 328.5746) -> (17.4307, 327.8183) centre (25.4, 323.85) ccw construction
  arc A24 (14.796, 326.0038) -> (17.4307, 327.8183) centre (14.4748, 329.2902) ccw construction
  line L7 (14.796, 326.0038) -> (2.3194, 324.7845) construction
  arc A25 (-0.6167, 326.0546) -> (2.3194, 324.7845) centre (1.9982, 328.0709) ccw construction
  arc A26 (-0.6167, 326.0546) -> (-4.5437, 328.9553) centre (-7.667, 320.6184) ccw construction
  arc A27 (-6.0901, 333.9414) -> (-4.5437, 328.9553) centre (-3.3853, 332.0474) ccw construction
  line L8 (-6.0901, 333.9414) -> (4.0073, 348.362) construction
  arc A28 (4.0073, 348.362) -> (6.35, 355.7921) centre (-6.604, 355.7921) ccw construction
  line L9 (6.35, 355.7921) -> (6.35, 362.832) construction
  arc A29 (10.4766, 366.0294) -> (6.35, 362.832) centre (9.652, 362.832) ccw construction
  circle A30 centre (25.4, 323.85) radius 2.5527 construction
  circle A31 centre (25.4, 298.45) radius 2.5527 construction
  circle A32 centre (0, 400.05) radius 2.5527 construction
  circle A33 centre (0, 463.55) radius 2.5527 construction
  circle A34 centre (31.75, 431.8) radius 2.5527 construction
  circle A35 centre (-31.75, 431.8) radius 2.5527 construction
  circle A36 centre (0, 431.8) radius 11.176 construction
  arc A37 (50.8, 386.6091) -> (50.6358, 388.0725) centre (44.196, 386.6091) ccw construction
  line L10 (50.6358, 388.0725) -> (38.7009, 440.5943) construction
  arc A38 (38.7009, 440.5943) -> (-17.8729, 396.3647) centre (0, 431.8) ccw construction
  line L11 (-17.8729, 396.3647) -> (-3.63, 389.1809) construction
  arc A39 (0, 383.2845) -> (-3.63, 389.1809) centre (-6.604, 383.2845) ccw construction
  line L12 (0, 383.2845) -> (0, 355.7921) construction
  arc A40 (-1.1943, 352.0042) -> (0, 355.7921) centre (-6.604, 355.7921) ccw construction
  line L13 (-1.1943, 352.0042) -> (-40.3095, 296.1419) construction
  arc A41 (-40.3095, 296.1419) -> (-34.8998, 285.75) centre (-34.8998, 292.354) ccw construction
  line L14 (-34.8998, 285.75) -> (44.196, 285.75) construction
  arc A42 (44.196, 285.75) -> (50.8, 292.354) centre (44.196, 292.354) ccw construction
  line L15 (50.8, 292.354) -> (50.8, 386.6091) construction
  circle A43 centre (38.1, 374.65) radius 2.5527 construction
  circle A44 centre (12.7, 374.65) radius 2.5527 construction
  circle A45 centre (-14.9514, 310.2152) radius 2.5527 construction
  circle A46 centre (-7.667, 320.6184) radius 2.5527 construction
  circle A47 centre (-23.1895, 298.45) radius 2.5527 construction
  circle A48 centre (25.4, 374.65) radius 2.5527 construction
  point P0 (0, 0)
  point P1 (19.05, 414.9995)
  dimension "d63" = 25.4
  dimension "d64" = 19.05
hole "Hole4" at (19.05, 414.9995, 6.35) direction (0, 0, -1) diameter 3.9624 end through all thread size "10-32 UNF" class "2B" standard "ANSI Unified Screw Threads"
properties part number "CL7-010" material "Aluminum 6061"
